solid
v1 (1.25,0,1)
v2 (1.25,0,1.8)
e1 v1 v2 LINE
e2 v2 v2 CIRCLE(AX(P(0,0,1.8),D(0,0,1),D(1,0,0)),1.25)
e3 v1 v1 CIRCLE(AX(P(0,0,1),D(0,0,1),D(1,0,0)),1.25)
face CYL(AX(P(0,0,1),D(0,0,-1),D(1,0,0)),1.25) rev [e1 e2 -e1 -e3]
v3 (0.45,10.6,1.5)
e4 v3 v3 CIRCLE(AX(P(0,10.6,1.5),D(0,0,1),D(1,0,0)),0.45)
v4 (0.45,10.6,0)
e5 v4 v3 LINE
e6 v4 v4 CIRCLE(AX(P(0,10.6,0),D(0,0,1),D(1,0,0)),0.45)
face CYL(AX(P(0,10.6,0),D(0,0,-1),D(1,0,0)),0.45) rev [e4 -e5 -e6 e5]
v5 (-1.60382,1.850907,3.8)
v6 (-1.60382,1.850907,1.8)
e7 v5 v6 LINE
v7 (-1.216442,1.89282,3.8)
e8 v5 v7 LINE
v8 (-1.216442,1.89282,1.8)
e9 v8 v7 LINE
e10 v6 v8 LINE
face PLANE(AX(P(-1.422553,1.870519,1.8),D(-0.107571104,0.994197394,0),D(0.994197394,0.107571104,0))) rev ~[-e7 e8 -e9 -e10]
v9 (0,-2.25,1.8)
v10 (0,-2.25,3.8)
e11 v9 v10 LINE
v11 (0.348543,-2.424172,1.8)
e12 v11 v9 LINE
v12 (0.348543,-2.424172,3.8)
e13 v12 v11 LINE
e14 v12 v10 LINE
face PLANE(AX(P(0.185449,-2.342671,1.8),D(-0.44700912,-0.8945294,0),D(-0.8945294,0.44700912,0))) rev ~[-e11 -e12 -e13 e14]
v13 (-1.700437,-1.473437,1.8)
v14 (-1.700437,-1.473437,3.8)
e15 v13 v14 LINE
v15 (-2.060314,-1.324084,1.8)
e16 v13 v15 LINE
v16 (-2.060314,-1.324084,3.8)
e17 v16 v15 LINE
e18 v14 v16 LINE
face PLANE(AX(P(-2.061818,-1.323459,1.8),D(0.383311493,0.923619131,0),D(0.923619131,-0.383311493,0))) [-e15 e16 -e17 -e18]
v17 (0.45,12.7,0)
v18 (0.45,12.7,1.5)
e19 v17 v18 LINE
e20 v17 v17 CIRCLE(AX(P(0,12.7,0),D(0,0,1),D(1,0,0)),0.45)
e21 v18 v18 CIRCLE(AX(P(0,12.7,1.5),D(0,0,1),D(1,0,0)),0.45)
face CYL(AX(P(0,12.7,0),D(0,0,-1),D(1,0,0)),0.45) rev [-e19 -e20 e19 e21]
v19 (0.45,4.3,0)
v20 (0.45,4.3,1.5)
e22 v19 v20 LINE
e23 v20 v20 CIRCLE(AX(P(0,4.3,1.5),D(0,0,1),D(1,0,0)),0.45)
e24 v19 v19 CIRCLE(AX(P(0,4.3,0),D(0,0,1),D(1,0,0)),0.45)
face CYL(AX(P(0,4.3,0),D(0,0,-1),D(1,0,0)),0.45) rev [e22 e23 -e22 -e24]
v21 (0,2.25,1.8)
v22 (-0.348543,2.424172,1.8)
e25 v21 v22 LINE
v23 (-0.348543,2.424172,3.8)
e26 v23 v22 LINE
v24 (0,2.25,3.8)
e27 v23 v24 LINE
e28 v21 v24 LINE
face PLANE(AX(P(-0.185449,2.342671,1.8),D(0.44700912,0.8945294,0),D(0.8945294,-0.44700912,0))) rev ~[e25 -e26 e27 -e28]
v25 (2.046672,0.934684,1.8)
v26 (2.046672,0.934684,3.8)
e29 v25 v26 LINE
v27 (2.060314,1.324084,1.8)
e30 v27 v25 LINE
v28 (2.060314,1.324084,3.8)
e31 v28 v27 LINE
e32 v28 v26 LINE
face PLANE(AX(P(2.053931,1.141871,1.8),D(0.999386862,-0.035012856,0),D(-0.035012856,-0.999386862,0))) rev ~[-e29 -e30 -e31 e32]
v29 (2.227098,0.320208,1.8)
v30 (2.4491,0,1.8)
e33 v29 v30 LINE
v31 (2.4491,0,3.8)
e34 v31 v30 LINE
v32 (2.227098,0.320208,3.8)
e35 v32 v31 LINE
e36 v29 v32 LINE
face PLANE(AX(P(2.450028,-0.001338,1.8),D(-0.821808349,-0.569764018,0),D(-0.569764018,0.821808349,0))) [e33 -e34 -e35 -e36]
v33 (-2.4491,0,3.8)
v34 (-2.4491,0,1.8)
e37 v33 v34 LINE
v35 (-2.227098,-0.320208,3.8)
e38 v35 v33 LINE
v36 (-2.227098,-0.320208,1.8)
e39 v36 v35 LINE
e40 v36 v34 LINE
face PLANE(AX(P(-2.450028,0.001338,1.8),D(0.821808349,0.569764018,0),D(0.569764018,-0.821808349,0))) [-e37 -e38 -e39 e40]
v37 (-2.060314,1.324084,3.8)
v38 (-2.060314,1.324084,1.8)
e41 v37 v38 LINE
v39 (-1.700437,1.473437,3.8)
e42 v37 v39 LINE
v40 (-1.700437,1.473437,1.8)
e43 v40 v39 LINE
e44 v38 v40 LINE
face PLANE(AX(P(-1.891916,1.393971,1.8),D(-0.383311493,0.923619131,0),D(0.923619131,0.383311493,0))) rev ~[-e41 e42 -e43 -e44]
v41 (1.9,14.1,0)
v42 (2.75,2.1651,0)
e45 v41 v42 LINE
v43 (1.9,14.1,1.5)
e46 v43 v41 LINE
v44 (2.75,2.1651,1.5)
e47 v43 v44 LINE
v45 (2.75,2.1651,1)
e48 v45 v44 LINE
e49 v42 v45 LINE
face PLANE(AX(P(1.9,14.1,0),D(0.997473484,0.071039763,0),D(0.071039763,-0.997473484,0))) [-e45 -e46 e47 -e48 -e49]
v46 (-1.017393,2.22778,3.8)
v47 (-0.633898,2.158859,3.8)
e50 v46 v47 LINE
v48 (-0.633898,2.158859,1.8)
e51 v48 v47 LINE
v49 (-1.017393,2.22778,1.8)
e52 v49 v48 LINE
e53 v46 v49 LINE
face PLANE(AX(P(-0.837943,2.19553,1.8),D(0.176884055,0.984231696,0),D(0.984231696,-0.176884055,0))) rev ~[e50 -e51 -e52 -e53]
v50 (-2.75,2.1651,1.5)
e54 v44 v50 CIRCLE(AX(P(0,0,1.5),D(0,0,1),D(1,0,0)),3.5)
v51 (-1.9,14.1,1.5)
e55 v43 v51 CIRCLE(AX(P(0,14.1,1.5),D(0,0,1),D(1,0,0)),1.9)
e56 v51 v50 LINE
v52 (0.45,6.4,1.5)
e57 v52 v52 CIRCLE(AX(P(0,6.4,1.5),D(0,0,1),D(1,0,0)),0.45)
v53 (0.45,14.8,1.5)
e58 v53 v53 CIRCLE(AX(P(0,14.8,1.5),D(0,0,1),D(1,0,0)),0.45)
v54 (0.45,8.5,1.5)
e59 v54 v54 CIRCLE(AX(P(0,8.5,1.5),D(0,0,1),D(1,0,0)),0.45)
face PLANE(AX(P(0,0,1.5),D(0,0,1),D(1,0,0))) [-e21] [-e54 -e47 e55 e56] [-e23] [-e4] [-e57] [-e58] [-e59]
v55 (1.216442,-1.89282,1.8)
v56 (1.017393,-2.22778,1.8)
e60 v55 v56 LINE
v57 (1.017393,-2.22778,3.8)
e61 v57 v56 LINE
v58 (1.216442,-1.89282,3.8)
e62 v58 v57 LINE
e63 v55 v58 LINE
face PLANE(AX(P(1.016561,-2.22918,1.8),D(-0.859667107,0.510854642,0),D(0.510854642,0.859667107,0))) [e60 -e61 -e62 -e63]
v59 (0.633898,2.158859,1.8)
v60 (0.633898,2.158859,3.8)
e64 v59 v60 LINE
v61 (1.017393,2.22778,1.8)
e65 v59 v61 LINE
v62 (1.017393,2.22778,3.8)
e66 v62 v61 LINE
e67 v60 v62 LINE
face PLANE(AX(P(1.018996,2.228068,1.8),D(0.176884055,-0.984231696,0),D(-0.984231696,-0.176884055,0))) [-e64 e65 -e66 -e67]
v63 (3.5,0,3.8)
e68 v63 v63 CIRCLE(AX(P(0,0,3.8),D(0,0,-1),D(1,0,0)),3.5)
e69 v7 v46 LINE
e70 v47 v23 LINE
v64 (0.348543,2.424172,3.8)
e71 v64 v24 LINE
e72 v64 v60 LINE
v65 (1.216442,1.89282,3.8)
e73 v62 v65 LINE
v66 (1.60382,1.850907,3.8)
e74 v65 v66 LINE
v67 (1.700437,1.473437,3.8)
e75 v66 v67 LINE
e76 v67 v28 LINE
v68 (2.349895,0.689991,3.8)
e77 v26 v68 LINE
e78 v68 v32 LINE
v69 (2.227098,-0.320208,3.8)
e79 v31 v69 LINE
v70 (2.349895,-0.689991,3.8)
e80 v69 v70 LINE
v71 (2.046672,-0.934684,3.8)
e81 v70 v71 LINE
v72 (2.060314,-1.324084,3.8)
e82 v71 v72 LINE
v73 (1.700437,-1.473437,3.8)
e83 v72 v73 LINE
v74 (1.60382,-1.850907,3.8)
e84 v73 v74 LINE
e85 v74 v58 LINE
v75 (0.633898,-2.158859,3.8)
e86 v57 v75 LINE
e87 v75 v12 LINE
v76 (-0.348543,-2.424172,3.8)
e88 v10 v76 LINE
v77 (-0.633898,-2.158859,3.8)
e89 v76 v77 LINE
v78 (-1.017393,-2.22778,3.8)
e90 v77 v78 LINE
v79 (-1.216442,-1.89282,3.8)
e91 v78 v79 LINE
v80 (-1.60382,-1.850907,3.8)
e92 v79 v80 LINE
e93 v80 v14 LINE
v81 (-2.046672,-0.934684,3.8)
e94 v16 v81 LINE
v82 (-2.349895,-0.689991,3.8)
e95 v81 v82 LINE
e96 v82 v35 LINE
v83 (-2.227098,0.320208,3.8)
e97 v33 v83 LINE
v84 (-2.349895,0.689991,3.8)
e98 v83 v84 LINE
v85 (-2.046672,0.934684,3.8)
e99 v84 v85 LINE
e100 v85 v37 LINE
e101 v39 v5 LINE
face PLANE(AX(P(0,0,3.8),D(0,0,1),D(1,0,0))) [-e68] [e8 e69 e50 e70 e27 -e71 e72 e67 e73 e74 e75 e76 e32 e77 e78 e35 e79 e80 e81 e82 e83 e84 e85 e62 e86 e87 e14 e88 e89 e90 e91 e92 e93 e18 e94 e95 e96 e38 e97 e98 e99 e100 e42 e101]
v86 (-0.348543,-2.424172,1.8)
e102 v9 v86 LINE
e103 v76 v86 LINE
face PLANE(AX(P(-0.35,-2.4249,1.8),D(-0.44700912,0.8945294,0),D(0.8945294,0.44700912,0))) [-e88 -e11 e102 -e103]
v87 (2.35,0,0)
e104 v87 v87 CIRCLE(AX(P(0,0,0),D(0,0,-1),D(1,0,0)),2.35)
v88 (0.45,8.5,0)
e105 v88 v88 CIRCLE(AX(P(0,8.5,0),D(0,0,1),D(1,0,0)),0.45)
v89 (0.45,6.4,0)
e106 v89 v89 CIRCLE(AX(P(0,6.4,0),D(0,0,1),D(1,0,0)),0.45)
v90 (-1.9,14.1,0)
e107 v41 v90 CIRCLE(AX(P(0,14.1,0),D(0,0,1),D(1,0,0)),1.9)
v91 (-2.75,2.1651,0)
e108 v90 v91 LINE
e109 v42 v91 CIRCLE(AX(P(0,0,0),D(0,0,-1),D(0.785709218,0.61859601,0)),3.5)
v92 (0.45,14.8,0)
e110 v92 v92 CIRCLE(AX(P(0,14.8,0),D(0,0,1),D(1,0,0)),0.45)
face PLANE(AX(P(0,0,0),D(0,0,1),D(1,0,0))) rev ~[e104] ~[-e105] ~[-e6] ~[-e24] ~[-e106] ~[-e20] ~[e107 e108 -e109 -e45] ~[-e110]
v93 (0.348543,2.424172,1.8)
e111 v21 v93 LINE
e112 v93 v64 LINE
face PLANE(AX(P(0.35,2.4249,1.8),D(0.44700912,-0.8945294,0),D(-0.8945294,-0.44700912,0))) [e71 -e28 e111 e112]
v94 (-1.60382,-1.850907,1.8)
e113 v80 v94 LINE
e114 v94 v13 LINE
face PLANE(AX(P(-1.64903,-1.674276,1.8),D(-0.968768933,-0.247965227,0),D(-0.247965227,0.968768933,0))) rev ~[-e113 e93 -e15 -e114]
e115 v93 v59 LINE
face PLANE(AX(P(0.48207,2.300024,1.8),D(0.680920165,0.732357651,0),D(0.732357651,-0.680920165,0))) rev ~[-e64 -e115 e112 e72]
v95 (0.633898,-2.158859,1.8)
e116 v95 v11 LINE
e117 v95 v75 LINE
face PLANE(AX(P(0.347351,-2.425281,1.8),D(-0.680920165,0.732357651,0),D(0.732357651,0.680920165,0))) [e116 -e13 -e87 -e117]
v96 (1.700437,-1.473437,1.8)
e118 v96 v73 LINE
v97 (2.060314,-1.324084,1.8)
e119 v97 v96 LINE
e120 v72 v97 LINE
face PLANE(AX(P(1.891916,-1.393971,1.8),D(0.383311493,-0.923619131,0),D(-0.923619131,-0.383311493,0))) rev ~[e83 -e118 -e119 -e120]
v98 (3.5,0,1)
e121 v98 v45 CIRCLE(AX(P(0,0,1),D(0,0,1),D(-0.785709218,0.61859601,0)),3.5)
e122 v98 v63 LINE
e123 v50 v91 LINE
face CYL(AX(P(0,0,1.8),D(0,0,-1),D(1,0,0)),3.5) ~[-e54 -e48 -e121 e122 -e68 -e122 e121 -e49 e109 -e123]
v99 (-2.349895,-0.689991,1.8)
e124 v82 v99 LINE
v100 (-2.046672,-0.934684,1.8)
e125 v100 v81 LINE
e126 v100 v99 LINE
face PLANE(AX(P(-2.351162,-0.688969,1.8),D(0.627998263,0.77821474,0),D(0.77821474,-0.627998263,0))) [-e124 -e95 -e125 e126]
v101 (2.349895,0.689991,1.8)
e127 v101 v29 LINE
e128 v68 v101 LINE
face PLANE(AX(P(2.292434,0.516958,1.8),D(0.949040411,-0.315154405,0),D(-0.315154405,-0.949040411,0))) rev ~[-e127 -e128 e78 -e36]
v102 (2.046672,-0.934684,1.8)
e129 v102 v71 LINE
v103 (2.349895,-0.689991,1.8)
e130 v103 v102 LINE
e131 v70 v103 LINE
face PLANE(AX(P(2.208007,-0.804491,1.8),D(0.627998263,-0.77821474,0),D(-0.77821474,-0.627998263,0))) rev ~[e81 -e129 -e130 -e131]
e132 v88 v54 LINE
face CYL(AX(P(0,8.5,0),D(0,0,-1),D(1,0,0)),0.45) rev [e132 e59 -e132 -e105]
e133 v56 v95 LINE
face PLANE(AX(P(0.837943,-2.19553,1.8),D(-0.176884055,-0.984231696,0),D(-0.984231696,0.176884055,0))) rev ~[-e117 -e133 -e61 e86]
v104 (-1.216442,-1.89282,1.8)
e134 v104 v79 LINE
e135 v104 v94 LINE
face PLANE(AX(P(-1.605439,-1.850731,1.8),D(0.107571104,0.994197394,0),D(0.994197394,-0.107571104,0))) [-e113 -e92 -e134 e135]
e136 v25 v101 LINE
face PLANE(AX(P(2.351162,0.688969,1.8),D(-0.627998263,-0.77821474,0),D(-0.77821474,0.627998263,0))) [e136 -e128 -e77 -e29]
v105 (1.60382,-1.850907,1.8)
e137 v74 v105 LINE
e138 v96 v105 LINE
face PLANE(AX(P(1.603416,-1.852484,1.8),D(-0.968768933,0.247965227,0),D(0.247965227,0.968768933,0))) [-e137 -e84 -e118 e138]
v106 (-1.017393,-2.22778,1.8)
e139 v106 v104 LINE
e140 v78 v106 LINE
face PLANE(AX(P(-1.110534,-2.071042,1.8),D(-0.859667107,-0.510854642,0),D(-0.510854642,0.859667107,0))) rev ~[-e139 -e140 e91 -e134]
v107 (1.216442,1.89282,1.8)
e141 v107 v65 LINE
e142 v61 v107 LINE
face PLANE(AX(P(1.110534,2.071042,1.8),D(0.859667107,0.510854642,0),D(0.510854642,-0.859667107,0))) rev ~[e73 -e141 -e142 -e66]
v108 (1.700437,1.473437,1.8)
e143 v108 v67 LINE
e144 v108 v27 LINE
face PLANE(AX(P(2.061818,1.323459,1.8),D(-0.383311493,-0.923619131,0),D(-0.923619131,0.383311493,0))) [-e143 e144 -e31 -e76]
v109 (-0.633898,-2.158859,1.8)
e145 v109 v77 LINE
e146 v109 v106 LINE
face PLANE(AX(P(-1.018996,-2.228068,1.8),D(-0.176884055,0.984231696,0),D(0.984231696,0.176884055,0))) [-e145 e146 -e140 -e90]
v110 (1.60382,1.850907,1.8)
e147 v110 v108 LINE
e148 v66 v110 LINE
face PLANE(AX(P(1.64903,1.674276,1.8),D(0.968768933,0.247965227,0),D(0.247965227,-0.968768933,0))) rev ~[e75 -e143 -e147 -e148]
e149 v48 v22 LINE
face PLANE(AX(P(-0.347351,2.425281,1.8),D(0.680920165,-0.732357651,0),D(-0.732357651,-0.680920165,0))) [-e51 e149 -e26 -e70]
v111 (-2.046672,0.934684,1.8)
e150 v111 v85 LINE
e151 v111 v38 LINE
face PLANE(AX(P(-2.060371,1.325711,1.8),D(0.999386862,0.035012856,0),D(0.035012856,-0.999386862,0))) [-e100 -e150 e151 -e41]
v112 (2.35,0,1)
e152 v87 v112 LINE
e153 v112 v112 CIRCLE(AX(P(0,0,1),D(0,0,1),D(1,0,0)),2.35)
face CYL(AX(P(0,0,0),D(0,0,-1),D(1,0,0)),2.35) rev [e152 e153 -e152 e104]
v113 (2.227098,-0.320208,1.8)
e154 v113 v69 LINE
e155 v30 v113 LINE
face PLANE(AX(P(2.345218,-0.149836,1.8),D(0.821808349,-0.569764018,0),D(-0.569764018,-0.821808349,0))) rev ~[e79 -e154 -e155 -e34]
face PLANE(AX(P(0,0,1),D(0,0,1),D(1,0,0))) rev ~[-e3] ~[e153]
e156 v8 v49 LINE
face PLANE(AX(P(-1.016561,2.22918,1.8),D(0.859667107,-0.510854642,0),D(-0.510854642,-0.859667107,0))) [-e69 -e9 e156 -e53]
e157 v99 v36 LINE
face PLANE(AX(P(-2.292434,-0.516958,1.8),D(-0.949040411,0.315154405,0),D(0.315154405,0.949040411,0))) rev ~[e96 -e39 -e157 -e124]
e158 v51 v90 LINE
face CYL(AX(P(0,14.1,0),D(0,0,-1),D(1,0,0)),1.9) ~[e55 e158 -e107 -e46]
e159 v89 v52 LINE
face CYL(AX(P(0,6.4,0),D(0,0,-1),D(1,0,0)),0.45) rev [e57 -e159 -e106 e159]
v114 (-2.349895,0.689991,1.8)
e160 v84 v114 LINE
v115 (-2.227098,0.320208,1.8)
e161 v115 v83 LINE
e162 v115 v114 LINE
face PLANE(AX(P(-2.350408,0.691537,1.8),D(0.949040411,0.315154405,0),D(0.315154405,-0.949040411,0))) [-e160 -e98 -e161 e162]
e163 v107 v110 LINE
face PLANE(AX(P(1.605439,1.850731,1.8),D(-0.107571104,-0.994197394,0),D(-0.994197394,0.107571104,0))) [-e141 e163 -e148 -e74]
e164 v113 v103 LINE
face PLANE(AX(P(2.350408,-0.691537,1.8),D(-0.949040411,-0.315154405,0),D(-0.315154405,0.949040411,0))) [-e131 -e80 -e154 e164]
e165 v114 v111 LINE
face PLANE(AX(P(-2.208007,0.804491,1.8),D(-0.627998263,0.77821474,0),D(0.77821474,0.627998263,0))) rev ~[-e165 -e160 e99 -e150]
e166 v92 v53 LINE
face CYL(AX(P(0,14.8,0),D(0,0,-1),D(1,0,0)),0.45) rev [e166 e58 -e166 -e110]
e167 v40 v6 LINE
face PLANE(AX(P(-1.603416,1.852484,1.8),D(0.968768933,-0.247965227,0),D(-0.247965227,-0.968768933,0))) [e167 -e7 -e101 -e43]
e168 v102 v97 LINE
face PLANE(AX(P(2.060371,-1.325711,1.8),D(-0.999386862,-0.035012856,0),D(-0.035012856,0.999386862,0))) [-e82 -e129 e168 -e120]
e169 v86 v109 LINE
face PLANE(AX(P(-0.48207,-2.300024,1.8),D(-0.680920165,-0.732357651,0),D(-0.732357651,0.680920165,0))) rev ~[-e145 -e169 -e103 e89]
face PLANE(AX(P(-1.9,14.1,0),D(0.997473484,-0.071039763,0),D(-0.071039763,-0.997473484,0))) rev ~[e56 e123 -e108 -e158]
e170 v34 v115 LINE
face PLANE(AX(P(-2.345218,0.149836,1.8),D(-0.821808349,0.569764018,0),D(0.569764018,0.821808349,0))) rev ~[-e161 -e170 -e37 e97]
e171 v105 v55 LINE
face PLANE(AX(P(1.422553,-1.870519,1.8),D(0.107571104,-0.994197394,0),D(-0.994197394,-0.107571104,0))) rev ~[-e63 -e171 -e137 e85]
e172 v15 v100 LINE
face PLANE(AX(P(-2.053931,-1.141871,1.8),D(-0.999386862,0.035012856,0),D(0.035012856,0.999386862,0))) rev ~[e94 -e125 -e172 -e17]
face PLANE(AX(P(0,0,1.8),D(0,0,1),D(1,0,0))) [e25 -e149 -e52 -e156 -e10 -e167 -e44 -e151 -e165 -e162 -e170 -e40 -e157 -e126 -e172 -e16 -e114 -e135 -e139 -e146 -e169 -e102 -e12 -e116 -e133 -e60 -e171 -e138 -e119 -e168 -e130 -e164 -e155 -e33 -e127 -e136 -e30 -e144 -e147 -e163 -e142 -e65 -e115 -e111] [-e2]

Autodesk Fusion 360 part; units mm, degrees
sketch "スケッチ1" plane through (0, 0, 0) normal (0, 0, 1) x (1, 0, 0)
  circle A0 centre (0, 0) radius 2.45
  circle A1 centre (0, 0) radius 3.5
  line L0 (-3.5, 0) -> (3.5, 0) construction
  line L1 (0, 3.5) -> (0, -3.5) construction
  line L2 (-0.35, 2.4249) -> (0, 2.25)
  line L3 (0.35, 2.4249) -> (0, 2.25)
  line L4 (-0.35, 2.4249) -> (0.35, 2.4249) construction
  line L5 (0, 2.45) -> (0, 2.25) construction
  circle A2 centre (0, 0) radius 1.25
  line L6 (0, 3.5) -> (0, 16) construction
  line L7 (-2.75, 2.1651) -> (2.75, 2.1651) construction
  circle A3 centre (0, 14.1) radius 1.9
  line L8 (-1.9, 14.1) -> (1.9, 14.1) construction
  line L9 (-1.9, 14.1) -> (-2.75, 2.1651)
  line L10 (1.9, 14.1) -> (2.75, 2.1651)
  circle A4 centre (0, 14.8) radius 0.45
  circle A5 centre (0, 12.7) radius 0.45
  circle A6 centre (0, 10.6) radius 0.45
  circle A7 centre (0, 8.5) radius 0.45
  circle A8 centre (0, 6.4) radius 0.45
  circle A9 centre (0, 4.3) radius 0.45
  circle A10 centre (0, 0) radius 2.35
  dimension "d1" = 4.9
  dimension "d2" = 7
  dimension "d3" = 0.2
  dimension "d4" = 0.7
  dimension "d5" = 2.5
  dimension "d7" = 3.8
  dimension "d8" = 19.5
  dimension "d9" = 5.5
  dimension "d10" = 0.9
  dimension "d12" = 2.1
  dimension "d13" = 2.1
  dimension "d14" = 2.1
  dimension "d15" = 2.1
  dimension "d16" = 2.1
  dimension "d18" = 4.7
  dimension "d21" = 1.2
extrude "押し出し1" add sketch "スケッチ1" along normal blind 1 contours A0 L2 L3 A10 | A0 L2 L3 A10 | A1 | A1 A3 L9 L10 | A3
extrude "押し出し2" add sketch "スケッチ1" along normal blind 1.5 contours A1 A3 L9 L10 | A3
extrude "押し出し3" add sketch "スケッチ1" along normal blind 0.8 from surface at 1 contours A0 L2 L3 A10 | A0 L2 L3 A10 | L2 L3 A10 | L2 L3 A10 | A1
extrude "押し出し4" add sketch "スケッチ1" along normal blind 2 from surface at 1.8 contours A1
extrude "押し出し5" add sketch "スケッチ1" along normal blind 2 from surface at 1.8 contours A0 L2 L3 A10 | L2 L3 A10 picked at (-0.2175, 2.4049) picked at (0, 2.3161)
pattern_circular "C パターン1" count 22 over 360 about axis through (0, 0, 1.75) along (0, 0, 1) of "押し出し5"
